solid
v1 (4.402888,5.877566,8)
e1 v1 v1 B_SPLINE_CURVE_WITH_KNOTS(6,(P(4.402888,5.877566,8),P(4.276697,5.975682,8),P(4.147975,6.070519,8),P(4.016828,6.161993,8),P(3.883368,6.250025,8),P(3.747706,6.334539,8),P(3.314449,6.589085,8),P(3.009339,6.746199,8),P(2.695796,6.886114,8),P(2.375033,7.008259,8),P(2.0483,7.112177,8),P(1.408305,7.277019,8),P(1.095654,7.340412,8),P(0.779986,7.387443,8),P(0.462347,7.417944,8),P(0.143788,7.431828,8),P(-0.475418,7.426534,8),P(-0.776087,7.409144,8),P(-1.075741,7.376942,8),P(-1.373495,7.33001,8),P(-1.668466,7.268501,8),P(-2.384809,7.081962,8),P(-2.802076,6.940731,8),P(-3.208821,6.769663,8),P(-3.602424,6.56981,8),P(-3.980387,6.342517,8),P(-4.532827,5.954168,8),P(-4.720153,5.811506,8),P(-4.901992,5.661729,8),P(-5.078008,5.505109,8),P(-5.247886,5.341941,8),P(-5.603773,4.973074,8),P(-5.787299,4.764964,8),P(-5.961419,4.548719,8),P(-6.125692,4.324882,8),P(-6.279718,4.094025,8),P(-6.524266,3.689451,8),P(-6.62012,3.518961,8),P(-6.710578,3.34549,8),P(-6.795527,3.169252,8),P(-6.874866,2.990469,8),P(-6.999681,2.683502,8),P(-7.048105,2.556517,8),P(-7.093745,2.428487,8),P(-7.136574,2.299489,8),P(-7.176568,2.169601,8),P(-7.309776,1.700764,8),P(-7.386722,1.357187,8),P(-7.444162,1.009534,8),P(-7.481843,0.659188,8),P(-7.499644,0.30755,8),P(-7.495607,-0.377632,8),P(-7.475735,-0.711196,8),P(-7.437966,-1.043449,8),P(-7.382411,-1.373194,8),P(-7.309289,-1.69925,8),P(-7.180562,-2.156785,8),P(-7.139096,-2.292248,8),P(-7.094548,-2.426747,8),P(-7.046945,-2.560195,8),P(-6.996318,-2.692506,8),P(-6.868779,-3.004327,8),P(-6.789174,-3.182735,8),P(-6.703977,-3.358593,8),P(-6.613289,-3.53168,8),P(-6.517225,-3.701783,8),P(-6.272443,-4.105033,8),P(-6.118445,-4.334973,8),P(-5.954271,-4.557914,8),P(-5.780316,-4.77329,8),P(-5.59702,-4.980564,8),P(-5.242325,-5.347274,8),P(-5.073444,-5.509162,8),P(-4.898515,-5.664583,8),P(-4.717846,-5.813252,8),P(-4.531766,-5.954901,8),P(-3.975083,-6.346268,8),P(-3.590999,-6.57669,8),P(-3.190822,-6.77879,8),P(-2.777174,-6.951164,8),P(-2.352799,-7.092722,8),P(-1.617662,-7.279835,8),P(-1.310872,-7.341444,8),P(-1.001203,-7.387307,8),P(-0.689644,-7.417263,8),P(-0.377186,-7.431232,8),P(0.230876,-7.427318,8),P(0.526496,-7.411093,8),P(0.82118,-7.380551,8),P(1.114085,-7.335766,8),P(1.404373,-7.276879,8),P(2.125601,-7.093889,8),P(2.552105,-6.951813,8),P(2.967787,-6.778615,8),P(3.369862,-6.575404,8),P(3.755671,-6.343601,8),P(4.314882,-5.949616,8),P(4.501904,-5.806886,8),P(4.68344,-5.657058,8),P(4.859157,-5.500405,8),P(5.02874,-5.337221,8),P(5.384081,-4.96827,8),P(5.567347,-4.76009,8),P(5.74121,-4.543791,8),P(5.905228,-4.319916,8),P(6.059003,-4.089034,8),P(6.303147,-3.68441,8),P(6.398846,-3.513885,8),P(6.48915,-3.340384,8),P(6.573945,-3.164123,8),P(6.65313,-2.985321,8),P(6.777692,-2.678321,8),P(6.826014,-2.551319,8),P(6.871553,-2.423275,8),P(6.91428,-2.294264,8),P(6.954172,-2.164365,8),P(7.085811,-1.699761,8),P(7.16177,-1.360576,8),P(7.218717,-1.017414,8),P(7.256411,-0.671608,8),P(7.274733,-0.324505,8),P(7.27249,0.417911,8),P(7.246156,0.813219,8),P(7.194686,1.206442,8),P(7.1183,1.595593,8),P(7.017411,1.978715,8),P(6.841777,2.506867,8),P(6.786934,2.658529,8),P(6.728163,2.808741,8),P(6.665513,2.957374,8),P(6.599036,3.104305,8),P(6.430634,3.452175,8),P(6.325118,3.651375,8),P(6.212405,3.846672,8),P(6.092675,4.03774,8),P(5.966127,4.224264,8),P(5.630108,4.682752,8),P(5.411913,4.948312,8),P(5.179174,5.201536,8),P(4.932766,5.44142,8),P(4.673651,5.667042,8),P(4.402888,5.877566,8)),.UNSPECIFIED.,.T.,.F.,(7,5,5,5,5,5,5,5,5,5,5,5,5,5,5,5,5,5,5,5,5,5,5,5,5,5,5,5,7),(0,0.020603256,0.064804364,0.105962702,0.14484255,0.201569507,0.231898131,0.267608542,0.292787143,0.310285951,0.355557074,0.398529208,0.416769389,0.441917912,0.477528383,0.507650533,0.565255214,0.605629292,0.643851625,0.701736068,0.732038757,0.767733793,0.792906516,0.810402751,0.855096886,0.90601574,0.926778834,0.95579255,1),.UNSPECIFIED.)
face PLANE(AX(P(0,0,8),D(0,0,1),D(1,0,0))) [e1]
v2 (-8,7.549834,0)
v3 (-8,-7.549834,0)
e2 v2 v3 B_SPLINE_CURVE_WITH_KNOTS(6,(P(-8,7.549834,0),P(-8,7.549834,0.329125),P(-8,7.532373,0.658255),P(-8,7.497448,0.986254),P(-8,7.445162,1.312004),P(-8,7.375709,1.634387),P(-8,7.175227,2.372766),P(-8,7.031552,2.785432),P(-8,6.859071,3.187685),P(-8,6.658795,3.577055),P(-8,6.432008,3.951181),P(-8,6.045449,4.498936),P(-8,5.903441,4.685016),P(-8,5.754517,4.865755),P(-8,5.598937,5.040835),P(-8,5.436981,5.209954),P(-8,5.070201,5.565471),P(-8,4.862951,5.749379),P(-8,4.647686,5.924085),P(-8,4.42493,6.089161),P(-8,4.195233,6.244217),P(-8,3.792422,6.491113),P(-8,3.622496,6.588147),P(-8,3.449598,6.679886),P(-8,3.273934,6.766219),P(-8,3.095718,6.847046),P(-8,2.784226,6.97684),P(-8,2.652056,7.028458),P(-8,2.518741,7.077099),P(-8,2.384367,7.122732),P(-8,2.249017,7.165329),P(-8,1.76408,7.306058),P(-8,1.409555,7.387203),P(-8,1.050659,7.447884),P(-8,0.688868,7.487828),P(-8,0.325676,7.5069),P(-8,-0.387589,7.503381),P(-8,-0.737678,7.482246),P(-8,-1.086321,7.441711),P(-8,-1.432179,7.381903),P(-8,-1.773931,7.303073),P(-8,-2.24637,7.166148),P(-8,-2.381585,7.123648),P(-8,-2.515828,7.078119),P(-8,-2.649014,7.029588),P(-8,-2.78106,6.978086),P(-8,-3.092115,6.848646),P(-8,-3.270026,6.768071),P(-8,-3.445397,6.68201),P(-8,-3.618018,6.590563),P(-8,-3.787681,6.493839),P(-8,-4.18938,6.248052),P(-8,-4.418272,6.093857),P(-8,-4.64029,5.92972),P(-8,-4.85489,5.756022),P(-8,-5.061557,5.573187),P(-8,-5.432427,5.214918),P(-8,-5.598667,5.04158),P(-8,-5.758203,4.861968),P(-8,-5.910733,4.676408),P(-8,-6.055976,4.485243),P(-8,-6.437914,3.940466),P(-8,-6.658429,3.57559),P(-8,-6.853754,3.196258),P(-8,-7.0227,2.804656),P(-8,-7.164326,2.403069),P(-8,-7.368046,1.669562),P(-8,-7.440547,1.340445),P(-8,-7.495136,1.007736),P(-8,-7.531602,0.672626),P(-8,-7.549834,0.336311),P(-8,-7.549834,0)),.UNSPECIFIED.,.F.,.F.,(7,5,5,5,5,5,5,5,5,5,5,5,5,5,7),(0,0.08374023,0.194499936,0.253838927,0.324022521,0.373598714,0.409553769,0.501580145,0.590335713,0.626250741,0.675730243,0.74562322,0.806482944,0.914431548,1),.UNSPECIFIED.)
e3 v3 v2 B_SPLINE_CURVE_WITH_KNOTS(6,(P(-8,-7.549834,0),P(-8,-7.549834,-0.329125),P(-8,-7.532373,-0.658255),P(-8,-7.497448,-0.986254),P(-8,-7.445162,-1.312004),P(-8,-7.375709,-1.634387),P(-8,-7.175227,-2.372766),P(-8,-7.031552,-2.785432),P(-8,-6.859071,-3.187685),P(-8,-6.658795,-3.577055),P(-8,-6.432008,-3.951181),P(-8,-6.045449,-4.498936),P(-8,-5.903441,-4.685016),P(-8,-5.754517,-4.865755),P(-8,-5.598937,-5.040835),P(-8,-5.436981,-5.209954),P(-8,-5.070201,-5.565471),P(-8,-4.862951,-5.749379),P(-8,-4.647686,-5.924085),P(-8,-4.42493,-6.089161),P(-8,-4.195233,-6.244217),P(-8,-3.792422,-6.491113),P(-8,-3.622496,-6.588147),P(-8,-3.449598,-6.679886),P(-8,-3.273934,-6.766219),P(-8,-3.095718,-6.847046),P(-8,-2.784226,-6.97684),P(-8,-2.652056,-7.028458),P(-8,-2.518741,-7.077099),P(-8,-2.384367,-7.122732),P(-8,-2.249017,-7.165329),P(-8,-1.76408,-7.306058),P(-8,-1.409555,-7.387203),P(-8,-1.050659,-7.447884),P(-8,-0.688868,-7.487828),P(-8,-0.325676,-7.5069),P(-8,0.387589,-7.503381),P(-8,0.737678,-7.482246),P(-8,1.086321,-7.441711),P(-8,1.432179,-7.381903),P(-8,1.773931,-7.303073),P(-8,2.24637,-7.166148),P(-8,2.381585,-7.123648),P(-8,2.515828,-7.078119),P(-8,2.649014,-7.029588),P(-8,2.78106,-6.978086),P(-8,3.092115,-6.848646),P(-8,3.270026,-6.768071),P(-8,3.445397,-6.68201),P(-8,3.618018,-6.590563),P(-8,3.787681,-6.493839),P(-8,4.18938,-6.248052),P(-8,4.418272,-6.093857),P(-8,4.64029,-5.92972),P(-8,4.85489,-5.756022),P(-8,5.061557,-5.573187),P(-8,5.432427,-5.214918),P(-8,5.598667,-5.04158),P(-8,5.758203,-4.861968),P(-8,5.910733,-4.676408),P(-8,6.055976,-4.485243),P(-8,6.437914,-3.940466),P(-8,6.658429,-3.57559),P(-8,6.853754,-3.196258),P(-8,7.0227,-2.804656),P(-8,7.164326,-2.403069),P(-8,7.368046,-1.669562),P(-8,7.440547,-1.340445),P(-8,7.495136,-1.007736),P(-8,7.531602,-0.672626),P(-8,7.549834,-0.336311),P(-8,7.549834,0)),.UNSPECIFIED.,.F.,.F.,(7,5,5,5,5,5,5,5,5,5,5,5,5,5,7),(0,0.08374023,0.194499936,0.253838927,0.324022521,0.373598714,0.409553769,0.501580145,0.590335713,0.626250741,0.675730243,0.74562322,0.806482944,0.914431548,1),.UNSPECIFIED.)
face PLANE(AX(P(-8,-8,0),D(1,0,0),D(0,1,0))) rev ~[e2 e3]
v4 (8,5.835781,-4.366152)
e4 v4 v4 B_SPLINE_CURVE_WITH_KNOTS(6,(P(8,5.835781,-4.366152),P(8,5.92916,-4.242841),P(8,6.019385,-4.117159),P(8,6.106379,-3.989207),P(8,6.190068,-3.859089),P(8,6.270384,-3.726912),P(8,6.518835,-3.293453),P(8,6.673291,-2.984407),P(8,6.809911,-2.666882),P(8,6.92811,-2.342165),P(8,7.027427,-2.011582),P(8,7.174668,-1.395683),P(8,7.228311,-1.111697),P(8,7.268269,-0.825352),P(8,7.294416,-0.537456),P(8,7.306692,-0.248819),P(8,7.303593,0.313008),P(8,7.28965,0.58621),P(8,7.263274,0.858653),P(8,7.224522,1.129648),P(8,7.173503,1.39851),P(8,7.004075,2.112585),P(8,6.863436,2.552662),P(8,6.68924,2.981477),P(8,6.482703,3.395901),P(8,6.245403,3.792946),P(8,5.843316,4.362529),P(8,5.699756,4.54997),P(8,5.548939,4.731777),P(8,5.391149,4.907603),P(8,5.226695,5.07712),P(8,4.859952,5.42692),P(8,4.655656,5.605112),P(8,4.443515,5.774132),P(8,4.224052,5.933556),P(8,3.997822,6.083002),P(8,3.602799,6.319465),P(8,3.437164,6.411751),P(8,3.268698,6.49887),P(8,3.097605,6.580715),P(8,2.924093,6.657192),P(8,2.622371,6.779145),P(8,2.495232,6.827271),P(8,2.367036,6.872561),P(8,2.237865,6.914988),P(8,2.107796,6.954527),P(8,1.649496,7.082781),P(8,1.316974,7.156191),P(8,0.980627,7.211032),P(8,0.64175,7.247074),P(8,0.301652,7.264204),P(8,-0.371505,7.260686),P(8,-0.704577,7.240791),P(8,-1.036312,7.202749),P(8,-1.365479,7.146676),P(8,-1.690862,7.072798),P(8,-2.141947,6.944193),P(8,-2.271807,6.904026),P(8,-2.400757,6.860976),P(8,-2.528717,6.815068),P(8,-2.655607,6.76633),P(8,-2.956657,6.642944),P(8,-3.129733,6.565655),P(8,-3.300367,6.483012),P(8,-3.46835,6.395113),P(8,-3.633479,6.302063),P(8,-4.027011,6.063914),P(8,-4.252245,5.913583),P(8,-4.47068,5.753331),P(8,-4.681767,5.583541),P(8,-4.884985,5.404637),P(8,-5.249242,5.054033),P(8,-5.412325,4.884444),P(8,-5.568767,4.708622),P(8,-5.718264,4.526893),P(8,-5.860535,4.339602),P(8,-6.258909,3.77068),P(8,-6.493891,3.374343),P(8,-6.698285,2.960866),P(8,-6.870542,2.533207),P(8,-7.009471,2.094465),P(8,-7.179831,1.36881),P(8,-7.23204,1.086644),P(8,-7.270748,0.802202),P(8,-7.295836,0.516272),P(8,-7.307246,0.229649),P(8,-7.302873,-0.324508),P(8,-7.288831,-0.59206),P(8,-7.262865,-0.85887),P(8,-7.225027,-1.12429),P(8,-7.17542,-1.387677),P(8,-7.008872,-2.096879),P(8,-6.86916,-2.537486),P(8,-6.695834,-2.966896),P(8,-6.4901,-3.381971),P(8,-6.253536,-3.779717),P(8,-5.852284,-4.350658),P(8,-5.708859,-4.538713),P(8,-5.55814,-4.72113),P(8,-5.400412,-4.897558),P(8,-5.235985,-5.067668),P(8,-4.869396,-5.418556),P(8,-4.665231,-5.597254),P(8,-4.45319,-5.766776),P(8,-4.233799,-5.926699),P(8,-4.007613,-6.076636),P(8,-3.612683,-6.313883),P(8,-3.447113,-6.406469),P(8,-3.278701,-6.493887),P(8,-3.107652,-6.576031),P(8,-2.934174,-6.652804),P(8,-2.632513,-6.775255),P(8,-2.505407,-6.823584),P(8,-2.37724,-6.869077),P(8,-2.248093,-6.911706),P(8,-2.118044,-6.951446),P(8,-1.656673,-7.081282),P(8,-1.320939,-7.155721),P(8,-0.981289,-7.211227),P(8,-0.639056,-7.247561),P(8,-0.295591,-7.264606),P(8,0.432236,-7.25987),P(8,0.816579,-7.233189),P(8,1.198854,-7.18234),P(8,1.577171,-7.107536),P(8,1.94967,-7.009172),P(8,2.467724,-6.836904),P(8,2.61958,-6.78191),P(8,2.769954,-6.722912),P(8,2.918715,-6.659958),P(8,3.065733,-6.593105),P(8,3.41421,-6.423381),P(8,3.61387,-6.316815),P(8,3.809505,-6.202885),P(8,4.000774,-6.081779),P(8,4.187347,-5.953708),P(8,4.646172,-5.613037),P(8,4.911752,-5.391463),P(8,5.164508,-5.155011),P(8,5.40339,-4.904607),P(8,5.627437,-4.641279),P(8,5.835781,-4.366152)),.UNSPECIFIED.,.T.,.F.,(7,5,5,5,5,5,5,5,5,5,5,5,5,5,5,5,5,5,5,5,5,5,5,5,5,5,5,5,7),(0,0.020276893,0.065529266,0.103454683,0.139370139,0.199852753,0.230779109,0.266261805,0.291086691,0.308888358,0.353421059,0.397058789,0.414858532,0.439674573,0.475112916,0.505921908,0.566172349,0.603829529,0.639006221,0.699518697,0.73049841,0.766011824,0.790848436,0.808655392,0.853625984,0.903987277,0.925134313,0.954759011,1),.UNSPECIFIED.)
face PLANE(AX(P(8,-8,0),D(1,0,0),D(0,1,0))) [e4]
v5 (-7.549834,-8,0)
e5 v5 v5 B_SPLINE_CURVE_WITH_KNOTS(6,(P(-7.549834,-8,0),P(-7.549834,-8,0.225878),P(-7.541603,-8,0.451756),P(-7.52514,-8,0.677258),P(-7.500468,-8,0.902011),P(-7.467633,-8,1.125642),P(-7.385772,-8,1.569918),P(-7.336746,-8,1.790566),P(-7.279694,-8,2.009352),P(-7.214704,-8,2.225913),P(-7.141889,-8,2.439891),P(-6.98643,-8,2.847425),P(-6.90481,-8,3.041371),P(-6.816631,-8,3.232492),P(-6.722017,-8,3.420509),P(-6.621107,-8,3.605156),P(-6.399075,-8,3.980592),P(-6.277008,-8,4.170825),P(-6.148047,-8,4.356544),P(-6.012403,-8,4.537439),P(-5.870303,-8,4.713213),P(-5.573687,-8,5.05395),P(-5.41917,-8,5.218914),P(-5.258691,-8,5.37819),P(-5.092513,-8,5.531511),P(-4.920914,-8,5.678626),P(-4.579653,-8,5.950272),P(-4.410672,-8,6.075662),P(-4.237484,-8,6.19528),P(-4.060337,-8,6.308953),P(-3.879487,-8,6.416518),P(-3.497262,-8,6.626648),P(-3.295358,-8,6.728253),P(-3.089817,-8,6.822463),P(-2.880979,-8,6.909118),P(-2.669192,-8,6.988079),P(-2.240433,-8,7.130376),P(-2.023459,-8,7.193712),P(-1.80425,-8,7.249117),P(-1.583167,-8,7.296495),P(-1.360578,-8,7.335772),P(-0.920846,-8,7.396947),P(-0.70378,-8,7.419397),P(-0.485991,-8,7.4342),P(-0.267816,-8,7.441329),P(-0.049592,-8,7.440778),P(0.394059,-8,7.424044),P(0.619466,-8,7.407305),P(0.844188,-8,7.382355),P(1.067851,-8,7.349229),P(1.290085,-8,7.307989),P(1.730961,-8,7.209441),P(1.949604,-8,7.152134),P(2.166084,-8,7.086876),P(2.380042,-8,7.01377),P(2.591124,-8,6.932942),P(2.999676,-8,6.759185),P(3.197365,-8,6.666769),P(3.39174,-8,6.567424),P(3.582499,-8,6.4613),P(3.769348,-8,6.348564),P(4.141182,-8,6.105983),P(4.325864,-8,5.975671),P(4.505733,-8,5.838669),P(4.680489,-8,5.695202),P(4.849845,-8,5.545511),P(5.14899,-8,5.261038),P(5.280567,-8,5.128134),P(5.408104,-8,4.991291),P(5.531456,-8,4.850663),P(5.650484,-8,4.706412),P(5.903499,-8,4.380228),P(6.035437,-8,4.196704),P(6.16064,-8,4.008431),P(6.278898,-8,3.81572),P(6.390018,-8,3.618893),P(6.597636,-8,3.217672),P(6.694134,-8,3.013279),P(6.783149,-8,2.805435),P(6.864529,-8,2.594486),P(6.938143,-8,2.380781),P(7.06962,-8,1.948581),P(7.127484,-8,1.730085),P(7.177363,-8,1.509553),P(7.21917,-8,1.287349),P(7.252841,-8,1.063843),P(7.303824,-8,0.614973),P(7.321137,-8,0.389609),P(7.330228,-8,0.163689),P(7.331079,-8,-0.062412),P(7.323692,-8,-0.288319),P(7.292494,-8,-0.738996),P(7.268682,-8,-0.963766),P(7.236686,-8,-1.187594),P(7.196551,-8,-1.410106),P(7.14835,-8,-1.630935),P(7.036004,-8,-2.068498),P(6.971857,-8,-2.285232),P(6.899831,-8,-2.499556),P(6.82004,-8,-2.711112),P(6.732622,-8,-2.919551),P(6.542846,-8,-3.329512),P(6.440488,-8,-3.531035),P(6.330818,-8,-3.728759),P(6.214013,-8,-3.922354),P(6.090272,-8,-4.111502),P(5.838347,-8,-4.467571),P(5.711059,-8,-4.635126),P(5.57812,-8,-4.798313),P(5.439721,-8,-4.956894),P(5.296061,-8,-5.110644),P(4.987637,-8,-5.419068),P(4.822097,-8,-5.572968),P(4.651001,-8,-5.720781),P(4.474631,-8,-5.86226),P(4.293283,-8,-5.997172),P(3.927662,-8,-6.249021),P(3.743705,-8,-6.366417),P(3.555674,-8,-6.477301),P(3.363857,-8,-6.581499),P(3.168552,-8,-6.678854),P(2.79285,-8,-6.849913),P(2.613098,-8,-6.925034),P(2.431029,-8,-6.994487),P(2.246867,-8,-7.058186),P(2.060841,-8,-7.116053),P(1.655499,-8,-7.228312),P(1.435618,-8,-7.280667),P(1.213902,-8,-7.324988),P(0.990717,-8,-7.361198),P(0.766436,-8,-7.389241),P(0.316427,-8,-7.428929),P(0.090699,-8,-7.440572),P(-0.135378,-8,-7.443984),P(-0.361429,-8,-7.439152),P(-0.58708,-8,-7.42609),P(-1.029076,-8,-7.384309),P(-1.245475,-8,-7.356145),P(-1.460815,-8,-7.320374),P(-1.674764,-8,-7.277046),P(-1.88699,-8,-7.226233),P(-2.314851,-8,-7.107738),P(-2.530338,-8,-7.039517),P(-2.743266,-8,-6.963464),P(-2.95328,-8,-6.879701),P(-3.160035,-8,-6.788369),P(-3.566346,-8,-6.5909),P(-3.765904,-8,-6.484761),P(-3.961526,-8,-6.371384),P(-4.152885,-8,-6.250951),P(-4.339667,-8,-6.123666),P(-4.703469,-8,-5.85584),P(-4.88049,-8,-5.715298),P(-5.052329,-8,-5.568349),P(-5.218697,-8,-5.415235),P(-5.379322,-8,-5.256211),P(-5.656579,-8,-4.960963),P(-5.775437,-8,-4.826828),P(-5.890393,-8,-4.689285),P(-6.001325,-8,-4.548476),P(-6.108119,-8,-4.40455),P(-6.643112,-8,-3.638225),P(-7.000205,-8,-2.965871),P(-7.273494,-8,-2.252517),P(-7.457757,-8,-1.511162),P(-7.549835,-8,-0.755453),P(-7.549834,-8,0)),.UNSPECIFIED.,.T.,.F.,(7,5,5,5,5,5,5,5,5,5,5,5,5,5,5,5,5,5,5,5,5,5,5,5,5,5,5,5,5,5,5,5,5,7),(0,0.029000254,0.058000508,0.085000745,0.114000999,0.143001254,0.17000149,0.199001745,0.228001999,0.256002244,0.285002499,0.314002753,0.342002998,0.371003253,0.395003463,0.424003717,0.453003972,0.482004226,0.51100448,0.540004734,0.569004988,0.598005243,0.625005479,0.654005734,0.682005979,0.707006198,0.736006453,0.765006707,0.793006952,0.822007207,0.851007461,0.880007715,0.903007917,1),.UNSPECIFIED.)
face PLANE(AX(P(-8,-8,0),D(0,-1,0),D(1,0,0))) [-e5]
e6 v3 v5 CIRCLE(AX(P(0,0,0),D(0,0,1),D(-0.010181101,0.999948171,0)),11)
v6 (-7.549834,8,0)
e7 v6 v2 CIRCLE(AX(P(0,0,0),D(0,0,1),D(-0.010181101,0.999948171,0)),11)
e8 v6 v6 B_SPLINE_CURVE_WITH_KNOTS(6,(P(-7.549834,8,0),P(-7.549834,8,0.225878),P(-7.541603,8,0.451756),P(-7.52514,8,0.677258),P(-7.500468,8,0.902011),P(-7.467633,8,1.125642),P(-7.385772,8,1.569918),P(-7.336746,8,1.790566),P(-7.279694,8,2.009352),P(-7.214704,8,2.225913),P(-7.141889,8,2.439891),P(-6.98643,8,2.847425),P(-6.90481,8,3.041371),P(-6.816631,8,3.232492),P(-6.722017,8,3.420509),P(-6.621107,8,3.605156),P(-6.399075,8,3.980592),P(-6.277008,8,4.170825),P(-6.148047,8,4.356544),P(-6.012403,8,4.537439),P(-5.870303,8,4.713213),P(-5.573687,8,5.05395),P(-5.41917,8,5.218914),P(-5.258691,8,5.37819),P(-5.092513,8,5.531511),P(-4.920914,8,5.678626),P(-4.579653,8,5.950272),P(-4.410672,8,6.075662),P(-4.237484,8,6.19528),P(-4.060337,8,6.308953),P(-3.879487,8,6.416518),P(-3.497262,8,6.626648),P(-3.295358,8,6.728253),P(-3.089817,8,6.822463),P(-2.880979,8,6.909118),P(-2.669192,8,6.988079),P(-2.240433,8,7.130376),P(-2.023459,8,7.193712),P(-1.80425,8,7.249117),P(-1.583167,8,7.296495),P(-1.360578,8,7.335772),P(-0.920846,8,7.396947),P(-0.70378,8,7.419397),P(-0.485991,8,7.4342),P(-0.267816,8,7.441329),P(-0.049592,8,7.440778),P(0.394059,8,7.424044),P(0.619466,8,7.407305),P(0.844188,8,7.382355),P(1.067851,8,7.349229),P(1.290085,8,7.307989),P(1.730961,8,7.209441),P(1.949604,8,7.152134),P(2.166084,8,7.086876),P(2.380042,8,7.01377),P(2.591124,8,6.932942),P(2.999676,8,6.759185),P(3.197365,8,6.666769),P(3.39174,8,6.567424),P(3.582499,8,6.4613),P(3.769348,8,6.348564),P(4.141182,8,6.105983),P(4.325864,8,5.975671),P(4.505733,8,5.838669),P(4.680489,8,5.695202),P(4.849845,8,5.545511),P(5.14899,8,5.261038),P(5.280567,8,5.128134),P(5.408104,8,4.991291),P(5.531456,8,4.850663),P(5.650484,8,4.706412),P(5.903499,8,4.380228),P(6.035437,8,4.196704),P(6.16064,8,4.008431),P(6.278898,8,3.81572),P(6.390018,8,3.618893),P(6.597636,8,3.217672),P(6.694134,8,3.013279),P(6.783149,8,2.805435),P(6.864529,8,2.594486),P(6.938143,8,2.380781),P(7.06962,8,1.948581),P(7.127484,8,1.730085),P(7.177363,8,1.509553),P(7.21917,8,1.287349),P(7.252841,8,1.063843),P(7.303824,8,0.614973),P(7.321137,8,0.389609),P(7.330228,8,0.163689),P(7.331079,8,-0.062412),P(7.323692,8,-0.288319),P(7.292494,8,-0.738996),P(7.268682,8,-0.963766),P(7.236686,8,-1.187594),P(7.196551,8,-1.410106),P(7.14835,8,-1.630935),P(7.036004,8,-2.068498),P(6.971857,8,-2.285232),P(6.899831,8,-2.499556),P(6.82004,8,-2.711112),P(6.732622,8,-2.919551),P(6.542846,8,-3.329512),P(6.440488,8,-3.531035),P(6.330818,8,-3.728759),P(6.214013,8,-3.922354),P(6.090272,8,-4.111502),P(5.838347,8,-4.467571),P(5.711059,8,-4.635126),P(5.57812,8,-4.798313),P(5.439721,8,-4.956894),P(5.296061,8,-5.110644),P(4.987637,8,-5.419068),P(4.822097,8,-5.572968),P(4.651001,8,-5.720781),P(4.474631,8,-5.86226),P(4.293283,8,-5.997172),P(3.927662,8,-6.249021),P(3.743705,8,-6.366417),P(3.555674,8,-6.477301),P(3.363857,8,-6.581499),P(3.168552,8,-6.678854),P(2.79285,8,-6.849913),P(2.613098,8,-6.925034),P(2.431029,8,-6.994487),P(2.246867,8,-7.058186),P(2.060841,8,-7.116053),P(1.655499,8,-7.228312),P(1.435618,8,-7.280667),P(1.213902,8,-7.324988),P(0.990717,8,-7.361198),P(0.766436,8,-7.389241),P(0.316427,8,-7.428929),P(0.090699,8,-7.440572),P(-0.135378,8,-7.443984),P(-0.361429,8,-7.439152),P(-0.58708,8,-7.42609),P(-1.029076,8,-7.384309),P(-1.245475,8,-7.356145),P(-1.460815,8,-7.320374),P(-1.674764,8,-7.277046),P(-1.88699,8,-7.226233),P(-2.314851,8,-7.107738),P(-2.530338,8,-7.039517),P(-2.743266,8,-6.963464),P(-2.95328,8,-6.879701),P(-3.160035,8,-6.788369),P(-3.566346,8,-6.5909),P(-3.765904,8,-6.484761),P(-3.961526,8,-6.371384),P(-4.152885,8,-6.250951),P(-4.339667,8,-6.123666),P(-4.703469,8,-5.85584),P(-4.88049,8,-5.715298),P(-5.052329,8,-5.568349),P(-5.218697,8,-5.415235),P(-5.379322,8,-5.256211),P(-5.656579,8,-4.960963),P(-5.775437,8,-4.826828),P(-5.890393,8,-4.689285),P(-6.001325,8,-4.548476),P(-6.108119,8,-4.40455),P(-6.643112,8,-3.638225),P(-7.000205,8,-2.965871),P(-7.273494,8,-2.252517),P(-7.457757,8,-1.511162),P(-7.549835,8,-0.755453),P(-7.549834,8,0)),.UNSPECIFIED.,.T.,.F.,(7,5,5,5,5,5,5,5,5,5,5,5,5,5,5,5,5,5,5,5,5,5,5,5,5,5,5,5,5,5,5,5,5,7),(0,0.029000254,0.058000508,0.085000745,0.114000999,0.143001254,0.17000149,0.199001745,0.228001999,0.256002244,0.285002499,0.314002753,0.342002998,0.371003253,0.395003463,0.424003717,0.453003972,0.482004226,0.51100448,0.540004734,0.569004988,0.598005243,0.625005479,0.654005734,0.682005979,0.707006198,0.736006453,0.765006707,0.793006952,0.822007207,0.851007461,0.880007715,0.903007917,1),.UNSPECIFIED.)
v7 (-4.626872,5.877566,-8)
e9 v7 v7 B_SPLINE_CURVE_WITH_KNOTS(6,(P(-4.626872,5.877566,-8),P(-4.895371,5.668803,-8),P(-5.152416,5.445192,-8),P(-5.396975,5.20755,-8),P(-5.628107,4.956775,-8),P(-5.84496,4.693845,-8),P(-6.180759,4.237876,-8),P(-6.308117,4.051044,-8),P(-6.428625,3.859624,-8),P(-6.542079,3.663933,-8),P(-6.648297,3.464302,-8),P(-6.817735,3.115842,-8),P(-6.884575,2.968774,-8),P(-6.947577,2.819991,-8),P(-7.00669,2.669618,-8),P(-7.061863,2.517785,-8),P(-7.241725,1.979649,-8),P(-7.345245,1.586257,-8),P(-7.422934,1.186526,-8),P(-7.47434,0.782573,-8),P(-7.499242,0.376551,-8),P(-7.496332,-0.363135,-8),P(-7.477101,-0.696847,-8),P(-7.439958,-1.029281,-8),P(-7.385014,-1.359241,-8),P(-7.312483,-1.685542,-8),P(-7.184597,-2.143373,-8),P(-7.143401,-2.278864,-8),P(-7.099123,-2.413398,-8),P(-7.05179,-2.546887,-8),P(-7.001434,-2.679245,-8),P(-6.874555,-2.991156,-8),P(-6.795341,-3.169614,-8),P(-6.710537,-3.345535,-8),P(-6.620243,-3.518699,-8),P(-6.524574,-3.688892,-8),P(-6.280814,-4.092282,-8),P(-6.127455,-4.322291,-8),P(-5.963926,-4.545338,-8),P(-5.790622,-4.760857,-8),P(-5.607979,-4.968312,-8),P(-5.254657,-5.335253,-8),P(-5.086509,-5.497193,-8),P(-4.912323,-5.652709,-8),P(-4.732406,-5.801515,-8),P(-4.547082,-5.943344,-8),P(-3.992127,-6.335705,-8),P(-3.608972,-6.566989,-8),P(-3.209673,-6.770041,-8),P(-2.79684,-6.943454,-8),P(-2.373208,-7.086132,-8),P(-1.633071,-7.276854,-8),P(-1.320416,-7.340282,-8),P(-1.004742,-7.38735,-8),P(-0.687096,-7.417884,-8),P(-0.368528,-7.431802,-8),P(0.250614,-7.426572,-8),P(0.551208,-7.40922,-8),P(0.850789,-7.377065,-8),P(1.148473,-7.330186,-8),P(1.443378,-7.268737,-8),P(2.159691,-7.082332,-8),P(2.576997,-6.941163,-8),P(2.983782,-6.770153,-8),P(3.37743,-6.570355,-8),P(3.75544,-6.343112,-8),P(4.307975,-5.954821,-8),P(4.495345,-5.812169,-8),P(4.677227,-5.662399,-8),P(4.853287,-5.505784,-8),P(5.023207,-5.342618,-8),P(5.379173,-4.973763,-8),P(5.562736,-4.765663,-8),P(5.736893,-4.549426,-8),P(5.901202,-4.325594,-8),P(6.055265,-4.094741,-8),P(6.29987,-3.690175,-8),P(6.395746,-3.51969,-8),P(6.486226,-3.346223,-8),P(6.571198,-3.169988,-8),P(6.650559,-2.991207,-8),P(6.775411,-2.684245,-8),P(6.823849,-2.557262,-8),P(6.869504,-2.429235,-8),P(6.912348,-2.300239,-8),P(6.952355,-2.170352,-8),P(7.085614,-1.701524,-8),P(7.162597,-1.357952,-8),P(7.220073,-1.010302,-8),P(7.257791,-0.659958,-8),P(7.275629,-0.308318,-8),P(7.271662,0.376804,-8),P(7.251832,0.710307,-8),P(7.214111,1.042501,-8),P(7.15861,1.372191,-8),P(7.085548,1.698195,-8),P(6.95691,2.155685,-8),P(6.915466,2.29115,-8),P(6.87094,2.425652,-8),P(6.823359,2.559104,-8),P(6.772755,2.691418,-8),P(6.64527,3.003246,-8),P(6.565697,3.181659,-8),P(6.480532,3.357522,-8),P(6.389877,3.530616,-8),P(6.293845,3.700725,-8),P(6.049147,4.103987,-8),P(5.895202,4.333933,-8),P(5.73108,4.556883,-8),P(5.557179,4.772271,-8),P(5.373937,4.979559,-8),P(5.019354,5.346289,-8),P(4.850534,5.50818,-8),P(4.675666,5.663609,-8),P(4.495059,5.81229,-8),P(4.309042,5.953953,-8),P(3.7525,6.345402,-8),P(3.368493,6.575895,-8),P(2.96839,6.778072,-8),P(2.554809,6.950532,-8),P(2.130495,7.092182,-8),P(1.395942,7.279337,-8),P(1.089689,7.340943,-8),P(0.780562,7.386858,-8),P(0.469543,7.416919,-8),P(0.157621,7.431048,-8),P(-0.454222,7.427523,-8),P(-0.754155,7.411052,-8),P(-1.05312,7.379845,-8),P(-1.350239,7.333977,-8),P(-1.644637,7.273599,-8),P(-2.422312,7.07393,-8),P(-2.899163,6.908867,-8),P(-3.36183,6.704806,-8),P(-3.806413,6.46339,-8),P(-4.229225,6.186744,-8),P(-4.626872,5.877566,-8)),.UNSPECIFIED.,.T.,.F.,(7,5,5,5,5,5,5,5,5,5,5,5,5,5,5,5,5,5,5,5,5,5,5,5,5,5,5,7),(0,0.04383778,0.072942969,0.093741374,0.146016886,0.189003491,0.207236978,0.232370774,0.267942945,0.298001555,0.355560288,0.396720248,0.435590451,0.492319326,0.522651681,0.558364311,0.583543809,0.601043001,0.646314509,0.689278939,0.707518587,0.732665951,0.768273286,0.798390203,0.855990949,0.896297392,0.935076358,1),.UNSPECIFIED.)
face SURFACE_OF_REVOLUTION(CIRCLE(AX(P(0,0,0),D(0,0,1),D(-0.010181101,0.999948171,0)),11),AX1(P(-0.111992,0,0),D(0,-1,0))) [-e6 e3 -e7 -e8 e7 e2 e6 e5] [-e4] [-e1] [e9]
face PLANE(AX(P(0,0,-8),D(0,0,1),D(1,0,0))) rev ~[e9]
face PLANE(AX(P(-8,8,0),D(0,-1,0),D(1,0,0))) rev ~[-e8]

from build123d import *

# Parameters (mm, degrees)
F0_W     = 16
F0_H     = 16
F1_DEPTH = 8


with BuildPart() as f1:
    # F0 (on Top) → F1 (new body, symmetric)
    with BuildSketch(Plane.XY):
        Rectangle(F0_W, F0_H)
    extrude(amount=F1_DEPTH, both=True)

    # F2 (on Top) → F3 (revolve, intersect)
    with BuildSketch(Plane.XY):
        with BuildLine():
            Line((-0.111992, -10.99943), (-0.111992, 10.99943))
            ThreePointArc((-0.111992, 10.99943), (-11, 0), (-0.111992, -10.99943))
        make_face()
    revolve(axis=Axis((-0.111992, 0, 0), (0, -1, 0)), mode=Mode.INTERSECT)


solid = f1.part
